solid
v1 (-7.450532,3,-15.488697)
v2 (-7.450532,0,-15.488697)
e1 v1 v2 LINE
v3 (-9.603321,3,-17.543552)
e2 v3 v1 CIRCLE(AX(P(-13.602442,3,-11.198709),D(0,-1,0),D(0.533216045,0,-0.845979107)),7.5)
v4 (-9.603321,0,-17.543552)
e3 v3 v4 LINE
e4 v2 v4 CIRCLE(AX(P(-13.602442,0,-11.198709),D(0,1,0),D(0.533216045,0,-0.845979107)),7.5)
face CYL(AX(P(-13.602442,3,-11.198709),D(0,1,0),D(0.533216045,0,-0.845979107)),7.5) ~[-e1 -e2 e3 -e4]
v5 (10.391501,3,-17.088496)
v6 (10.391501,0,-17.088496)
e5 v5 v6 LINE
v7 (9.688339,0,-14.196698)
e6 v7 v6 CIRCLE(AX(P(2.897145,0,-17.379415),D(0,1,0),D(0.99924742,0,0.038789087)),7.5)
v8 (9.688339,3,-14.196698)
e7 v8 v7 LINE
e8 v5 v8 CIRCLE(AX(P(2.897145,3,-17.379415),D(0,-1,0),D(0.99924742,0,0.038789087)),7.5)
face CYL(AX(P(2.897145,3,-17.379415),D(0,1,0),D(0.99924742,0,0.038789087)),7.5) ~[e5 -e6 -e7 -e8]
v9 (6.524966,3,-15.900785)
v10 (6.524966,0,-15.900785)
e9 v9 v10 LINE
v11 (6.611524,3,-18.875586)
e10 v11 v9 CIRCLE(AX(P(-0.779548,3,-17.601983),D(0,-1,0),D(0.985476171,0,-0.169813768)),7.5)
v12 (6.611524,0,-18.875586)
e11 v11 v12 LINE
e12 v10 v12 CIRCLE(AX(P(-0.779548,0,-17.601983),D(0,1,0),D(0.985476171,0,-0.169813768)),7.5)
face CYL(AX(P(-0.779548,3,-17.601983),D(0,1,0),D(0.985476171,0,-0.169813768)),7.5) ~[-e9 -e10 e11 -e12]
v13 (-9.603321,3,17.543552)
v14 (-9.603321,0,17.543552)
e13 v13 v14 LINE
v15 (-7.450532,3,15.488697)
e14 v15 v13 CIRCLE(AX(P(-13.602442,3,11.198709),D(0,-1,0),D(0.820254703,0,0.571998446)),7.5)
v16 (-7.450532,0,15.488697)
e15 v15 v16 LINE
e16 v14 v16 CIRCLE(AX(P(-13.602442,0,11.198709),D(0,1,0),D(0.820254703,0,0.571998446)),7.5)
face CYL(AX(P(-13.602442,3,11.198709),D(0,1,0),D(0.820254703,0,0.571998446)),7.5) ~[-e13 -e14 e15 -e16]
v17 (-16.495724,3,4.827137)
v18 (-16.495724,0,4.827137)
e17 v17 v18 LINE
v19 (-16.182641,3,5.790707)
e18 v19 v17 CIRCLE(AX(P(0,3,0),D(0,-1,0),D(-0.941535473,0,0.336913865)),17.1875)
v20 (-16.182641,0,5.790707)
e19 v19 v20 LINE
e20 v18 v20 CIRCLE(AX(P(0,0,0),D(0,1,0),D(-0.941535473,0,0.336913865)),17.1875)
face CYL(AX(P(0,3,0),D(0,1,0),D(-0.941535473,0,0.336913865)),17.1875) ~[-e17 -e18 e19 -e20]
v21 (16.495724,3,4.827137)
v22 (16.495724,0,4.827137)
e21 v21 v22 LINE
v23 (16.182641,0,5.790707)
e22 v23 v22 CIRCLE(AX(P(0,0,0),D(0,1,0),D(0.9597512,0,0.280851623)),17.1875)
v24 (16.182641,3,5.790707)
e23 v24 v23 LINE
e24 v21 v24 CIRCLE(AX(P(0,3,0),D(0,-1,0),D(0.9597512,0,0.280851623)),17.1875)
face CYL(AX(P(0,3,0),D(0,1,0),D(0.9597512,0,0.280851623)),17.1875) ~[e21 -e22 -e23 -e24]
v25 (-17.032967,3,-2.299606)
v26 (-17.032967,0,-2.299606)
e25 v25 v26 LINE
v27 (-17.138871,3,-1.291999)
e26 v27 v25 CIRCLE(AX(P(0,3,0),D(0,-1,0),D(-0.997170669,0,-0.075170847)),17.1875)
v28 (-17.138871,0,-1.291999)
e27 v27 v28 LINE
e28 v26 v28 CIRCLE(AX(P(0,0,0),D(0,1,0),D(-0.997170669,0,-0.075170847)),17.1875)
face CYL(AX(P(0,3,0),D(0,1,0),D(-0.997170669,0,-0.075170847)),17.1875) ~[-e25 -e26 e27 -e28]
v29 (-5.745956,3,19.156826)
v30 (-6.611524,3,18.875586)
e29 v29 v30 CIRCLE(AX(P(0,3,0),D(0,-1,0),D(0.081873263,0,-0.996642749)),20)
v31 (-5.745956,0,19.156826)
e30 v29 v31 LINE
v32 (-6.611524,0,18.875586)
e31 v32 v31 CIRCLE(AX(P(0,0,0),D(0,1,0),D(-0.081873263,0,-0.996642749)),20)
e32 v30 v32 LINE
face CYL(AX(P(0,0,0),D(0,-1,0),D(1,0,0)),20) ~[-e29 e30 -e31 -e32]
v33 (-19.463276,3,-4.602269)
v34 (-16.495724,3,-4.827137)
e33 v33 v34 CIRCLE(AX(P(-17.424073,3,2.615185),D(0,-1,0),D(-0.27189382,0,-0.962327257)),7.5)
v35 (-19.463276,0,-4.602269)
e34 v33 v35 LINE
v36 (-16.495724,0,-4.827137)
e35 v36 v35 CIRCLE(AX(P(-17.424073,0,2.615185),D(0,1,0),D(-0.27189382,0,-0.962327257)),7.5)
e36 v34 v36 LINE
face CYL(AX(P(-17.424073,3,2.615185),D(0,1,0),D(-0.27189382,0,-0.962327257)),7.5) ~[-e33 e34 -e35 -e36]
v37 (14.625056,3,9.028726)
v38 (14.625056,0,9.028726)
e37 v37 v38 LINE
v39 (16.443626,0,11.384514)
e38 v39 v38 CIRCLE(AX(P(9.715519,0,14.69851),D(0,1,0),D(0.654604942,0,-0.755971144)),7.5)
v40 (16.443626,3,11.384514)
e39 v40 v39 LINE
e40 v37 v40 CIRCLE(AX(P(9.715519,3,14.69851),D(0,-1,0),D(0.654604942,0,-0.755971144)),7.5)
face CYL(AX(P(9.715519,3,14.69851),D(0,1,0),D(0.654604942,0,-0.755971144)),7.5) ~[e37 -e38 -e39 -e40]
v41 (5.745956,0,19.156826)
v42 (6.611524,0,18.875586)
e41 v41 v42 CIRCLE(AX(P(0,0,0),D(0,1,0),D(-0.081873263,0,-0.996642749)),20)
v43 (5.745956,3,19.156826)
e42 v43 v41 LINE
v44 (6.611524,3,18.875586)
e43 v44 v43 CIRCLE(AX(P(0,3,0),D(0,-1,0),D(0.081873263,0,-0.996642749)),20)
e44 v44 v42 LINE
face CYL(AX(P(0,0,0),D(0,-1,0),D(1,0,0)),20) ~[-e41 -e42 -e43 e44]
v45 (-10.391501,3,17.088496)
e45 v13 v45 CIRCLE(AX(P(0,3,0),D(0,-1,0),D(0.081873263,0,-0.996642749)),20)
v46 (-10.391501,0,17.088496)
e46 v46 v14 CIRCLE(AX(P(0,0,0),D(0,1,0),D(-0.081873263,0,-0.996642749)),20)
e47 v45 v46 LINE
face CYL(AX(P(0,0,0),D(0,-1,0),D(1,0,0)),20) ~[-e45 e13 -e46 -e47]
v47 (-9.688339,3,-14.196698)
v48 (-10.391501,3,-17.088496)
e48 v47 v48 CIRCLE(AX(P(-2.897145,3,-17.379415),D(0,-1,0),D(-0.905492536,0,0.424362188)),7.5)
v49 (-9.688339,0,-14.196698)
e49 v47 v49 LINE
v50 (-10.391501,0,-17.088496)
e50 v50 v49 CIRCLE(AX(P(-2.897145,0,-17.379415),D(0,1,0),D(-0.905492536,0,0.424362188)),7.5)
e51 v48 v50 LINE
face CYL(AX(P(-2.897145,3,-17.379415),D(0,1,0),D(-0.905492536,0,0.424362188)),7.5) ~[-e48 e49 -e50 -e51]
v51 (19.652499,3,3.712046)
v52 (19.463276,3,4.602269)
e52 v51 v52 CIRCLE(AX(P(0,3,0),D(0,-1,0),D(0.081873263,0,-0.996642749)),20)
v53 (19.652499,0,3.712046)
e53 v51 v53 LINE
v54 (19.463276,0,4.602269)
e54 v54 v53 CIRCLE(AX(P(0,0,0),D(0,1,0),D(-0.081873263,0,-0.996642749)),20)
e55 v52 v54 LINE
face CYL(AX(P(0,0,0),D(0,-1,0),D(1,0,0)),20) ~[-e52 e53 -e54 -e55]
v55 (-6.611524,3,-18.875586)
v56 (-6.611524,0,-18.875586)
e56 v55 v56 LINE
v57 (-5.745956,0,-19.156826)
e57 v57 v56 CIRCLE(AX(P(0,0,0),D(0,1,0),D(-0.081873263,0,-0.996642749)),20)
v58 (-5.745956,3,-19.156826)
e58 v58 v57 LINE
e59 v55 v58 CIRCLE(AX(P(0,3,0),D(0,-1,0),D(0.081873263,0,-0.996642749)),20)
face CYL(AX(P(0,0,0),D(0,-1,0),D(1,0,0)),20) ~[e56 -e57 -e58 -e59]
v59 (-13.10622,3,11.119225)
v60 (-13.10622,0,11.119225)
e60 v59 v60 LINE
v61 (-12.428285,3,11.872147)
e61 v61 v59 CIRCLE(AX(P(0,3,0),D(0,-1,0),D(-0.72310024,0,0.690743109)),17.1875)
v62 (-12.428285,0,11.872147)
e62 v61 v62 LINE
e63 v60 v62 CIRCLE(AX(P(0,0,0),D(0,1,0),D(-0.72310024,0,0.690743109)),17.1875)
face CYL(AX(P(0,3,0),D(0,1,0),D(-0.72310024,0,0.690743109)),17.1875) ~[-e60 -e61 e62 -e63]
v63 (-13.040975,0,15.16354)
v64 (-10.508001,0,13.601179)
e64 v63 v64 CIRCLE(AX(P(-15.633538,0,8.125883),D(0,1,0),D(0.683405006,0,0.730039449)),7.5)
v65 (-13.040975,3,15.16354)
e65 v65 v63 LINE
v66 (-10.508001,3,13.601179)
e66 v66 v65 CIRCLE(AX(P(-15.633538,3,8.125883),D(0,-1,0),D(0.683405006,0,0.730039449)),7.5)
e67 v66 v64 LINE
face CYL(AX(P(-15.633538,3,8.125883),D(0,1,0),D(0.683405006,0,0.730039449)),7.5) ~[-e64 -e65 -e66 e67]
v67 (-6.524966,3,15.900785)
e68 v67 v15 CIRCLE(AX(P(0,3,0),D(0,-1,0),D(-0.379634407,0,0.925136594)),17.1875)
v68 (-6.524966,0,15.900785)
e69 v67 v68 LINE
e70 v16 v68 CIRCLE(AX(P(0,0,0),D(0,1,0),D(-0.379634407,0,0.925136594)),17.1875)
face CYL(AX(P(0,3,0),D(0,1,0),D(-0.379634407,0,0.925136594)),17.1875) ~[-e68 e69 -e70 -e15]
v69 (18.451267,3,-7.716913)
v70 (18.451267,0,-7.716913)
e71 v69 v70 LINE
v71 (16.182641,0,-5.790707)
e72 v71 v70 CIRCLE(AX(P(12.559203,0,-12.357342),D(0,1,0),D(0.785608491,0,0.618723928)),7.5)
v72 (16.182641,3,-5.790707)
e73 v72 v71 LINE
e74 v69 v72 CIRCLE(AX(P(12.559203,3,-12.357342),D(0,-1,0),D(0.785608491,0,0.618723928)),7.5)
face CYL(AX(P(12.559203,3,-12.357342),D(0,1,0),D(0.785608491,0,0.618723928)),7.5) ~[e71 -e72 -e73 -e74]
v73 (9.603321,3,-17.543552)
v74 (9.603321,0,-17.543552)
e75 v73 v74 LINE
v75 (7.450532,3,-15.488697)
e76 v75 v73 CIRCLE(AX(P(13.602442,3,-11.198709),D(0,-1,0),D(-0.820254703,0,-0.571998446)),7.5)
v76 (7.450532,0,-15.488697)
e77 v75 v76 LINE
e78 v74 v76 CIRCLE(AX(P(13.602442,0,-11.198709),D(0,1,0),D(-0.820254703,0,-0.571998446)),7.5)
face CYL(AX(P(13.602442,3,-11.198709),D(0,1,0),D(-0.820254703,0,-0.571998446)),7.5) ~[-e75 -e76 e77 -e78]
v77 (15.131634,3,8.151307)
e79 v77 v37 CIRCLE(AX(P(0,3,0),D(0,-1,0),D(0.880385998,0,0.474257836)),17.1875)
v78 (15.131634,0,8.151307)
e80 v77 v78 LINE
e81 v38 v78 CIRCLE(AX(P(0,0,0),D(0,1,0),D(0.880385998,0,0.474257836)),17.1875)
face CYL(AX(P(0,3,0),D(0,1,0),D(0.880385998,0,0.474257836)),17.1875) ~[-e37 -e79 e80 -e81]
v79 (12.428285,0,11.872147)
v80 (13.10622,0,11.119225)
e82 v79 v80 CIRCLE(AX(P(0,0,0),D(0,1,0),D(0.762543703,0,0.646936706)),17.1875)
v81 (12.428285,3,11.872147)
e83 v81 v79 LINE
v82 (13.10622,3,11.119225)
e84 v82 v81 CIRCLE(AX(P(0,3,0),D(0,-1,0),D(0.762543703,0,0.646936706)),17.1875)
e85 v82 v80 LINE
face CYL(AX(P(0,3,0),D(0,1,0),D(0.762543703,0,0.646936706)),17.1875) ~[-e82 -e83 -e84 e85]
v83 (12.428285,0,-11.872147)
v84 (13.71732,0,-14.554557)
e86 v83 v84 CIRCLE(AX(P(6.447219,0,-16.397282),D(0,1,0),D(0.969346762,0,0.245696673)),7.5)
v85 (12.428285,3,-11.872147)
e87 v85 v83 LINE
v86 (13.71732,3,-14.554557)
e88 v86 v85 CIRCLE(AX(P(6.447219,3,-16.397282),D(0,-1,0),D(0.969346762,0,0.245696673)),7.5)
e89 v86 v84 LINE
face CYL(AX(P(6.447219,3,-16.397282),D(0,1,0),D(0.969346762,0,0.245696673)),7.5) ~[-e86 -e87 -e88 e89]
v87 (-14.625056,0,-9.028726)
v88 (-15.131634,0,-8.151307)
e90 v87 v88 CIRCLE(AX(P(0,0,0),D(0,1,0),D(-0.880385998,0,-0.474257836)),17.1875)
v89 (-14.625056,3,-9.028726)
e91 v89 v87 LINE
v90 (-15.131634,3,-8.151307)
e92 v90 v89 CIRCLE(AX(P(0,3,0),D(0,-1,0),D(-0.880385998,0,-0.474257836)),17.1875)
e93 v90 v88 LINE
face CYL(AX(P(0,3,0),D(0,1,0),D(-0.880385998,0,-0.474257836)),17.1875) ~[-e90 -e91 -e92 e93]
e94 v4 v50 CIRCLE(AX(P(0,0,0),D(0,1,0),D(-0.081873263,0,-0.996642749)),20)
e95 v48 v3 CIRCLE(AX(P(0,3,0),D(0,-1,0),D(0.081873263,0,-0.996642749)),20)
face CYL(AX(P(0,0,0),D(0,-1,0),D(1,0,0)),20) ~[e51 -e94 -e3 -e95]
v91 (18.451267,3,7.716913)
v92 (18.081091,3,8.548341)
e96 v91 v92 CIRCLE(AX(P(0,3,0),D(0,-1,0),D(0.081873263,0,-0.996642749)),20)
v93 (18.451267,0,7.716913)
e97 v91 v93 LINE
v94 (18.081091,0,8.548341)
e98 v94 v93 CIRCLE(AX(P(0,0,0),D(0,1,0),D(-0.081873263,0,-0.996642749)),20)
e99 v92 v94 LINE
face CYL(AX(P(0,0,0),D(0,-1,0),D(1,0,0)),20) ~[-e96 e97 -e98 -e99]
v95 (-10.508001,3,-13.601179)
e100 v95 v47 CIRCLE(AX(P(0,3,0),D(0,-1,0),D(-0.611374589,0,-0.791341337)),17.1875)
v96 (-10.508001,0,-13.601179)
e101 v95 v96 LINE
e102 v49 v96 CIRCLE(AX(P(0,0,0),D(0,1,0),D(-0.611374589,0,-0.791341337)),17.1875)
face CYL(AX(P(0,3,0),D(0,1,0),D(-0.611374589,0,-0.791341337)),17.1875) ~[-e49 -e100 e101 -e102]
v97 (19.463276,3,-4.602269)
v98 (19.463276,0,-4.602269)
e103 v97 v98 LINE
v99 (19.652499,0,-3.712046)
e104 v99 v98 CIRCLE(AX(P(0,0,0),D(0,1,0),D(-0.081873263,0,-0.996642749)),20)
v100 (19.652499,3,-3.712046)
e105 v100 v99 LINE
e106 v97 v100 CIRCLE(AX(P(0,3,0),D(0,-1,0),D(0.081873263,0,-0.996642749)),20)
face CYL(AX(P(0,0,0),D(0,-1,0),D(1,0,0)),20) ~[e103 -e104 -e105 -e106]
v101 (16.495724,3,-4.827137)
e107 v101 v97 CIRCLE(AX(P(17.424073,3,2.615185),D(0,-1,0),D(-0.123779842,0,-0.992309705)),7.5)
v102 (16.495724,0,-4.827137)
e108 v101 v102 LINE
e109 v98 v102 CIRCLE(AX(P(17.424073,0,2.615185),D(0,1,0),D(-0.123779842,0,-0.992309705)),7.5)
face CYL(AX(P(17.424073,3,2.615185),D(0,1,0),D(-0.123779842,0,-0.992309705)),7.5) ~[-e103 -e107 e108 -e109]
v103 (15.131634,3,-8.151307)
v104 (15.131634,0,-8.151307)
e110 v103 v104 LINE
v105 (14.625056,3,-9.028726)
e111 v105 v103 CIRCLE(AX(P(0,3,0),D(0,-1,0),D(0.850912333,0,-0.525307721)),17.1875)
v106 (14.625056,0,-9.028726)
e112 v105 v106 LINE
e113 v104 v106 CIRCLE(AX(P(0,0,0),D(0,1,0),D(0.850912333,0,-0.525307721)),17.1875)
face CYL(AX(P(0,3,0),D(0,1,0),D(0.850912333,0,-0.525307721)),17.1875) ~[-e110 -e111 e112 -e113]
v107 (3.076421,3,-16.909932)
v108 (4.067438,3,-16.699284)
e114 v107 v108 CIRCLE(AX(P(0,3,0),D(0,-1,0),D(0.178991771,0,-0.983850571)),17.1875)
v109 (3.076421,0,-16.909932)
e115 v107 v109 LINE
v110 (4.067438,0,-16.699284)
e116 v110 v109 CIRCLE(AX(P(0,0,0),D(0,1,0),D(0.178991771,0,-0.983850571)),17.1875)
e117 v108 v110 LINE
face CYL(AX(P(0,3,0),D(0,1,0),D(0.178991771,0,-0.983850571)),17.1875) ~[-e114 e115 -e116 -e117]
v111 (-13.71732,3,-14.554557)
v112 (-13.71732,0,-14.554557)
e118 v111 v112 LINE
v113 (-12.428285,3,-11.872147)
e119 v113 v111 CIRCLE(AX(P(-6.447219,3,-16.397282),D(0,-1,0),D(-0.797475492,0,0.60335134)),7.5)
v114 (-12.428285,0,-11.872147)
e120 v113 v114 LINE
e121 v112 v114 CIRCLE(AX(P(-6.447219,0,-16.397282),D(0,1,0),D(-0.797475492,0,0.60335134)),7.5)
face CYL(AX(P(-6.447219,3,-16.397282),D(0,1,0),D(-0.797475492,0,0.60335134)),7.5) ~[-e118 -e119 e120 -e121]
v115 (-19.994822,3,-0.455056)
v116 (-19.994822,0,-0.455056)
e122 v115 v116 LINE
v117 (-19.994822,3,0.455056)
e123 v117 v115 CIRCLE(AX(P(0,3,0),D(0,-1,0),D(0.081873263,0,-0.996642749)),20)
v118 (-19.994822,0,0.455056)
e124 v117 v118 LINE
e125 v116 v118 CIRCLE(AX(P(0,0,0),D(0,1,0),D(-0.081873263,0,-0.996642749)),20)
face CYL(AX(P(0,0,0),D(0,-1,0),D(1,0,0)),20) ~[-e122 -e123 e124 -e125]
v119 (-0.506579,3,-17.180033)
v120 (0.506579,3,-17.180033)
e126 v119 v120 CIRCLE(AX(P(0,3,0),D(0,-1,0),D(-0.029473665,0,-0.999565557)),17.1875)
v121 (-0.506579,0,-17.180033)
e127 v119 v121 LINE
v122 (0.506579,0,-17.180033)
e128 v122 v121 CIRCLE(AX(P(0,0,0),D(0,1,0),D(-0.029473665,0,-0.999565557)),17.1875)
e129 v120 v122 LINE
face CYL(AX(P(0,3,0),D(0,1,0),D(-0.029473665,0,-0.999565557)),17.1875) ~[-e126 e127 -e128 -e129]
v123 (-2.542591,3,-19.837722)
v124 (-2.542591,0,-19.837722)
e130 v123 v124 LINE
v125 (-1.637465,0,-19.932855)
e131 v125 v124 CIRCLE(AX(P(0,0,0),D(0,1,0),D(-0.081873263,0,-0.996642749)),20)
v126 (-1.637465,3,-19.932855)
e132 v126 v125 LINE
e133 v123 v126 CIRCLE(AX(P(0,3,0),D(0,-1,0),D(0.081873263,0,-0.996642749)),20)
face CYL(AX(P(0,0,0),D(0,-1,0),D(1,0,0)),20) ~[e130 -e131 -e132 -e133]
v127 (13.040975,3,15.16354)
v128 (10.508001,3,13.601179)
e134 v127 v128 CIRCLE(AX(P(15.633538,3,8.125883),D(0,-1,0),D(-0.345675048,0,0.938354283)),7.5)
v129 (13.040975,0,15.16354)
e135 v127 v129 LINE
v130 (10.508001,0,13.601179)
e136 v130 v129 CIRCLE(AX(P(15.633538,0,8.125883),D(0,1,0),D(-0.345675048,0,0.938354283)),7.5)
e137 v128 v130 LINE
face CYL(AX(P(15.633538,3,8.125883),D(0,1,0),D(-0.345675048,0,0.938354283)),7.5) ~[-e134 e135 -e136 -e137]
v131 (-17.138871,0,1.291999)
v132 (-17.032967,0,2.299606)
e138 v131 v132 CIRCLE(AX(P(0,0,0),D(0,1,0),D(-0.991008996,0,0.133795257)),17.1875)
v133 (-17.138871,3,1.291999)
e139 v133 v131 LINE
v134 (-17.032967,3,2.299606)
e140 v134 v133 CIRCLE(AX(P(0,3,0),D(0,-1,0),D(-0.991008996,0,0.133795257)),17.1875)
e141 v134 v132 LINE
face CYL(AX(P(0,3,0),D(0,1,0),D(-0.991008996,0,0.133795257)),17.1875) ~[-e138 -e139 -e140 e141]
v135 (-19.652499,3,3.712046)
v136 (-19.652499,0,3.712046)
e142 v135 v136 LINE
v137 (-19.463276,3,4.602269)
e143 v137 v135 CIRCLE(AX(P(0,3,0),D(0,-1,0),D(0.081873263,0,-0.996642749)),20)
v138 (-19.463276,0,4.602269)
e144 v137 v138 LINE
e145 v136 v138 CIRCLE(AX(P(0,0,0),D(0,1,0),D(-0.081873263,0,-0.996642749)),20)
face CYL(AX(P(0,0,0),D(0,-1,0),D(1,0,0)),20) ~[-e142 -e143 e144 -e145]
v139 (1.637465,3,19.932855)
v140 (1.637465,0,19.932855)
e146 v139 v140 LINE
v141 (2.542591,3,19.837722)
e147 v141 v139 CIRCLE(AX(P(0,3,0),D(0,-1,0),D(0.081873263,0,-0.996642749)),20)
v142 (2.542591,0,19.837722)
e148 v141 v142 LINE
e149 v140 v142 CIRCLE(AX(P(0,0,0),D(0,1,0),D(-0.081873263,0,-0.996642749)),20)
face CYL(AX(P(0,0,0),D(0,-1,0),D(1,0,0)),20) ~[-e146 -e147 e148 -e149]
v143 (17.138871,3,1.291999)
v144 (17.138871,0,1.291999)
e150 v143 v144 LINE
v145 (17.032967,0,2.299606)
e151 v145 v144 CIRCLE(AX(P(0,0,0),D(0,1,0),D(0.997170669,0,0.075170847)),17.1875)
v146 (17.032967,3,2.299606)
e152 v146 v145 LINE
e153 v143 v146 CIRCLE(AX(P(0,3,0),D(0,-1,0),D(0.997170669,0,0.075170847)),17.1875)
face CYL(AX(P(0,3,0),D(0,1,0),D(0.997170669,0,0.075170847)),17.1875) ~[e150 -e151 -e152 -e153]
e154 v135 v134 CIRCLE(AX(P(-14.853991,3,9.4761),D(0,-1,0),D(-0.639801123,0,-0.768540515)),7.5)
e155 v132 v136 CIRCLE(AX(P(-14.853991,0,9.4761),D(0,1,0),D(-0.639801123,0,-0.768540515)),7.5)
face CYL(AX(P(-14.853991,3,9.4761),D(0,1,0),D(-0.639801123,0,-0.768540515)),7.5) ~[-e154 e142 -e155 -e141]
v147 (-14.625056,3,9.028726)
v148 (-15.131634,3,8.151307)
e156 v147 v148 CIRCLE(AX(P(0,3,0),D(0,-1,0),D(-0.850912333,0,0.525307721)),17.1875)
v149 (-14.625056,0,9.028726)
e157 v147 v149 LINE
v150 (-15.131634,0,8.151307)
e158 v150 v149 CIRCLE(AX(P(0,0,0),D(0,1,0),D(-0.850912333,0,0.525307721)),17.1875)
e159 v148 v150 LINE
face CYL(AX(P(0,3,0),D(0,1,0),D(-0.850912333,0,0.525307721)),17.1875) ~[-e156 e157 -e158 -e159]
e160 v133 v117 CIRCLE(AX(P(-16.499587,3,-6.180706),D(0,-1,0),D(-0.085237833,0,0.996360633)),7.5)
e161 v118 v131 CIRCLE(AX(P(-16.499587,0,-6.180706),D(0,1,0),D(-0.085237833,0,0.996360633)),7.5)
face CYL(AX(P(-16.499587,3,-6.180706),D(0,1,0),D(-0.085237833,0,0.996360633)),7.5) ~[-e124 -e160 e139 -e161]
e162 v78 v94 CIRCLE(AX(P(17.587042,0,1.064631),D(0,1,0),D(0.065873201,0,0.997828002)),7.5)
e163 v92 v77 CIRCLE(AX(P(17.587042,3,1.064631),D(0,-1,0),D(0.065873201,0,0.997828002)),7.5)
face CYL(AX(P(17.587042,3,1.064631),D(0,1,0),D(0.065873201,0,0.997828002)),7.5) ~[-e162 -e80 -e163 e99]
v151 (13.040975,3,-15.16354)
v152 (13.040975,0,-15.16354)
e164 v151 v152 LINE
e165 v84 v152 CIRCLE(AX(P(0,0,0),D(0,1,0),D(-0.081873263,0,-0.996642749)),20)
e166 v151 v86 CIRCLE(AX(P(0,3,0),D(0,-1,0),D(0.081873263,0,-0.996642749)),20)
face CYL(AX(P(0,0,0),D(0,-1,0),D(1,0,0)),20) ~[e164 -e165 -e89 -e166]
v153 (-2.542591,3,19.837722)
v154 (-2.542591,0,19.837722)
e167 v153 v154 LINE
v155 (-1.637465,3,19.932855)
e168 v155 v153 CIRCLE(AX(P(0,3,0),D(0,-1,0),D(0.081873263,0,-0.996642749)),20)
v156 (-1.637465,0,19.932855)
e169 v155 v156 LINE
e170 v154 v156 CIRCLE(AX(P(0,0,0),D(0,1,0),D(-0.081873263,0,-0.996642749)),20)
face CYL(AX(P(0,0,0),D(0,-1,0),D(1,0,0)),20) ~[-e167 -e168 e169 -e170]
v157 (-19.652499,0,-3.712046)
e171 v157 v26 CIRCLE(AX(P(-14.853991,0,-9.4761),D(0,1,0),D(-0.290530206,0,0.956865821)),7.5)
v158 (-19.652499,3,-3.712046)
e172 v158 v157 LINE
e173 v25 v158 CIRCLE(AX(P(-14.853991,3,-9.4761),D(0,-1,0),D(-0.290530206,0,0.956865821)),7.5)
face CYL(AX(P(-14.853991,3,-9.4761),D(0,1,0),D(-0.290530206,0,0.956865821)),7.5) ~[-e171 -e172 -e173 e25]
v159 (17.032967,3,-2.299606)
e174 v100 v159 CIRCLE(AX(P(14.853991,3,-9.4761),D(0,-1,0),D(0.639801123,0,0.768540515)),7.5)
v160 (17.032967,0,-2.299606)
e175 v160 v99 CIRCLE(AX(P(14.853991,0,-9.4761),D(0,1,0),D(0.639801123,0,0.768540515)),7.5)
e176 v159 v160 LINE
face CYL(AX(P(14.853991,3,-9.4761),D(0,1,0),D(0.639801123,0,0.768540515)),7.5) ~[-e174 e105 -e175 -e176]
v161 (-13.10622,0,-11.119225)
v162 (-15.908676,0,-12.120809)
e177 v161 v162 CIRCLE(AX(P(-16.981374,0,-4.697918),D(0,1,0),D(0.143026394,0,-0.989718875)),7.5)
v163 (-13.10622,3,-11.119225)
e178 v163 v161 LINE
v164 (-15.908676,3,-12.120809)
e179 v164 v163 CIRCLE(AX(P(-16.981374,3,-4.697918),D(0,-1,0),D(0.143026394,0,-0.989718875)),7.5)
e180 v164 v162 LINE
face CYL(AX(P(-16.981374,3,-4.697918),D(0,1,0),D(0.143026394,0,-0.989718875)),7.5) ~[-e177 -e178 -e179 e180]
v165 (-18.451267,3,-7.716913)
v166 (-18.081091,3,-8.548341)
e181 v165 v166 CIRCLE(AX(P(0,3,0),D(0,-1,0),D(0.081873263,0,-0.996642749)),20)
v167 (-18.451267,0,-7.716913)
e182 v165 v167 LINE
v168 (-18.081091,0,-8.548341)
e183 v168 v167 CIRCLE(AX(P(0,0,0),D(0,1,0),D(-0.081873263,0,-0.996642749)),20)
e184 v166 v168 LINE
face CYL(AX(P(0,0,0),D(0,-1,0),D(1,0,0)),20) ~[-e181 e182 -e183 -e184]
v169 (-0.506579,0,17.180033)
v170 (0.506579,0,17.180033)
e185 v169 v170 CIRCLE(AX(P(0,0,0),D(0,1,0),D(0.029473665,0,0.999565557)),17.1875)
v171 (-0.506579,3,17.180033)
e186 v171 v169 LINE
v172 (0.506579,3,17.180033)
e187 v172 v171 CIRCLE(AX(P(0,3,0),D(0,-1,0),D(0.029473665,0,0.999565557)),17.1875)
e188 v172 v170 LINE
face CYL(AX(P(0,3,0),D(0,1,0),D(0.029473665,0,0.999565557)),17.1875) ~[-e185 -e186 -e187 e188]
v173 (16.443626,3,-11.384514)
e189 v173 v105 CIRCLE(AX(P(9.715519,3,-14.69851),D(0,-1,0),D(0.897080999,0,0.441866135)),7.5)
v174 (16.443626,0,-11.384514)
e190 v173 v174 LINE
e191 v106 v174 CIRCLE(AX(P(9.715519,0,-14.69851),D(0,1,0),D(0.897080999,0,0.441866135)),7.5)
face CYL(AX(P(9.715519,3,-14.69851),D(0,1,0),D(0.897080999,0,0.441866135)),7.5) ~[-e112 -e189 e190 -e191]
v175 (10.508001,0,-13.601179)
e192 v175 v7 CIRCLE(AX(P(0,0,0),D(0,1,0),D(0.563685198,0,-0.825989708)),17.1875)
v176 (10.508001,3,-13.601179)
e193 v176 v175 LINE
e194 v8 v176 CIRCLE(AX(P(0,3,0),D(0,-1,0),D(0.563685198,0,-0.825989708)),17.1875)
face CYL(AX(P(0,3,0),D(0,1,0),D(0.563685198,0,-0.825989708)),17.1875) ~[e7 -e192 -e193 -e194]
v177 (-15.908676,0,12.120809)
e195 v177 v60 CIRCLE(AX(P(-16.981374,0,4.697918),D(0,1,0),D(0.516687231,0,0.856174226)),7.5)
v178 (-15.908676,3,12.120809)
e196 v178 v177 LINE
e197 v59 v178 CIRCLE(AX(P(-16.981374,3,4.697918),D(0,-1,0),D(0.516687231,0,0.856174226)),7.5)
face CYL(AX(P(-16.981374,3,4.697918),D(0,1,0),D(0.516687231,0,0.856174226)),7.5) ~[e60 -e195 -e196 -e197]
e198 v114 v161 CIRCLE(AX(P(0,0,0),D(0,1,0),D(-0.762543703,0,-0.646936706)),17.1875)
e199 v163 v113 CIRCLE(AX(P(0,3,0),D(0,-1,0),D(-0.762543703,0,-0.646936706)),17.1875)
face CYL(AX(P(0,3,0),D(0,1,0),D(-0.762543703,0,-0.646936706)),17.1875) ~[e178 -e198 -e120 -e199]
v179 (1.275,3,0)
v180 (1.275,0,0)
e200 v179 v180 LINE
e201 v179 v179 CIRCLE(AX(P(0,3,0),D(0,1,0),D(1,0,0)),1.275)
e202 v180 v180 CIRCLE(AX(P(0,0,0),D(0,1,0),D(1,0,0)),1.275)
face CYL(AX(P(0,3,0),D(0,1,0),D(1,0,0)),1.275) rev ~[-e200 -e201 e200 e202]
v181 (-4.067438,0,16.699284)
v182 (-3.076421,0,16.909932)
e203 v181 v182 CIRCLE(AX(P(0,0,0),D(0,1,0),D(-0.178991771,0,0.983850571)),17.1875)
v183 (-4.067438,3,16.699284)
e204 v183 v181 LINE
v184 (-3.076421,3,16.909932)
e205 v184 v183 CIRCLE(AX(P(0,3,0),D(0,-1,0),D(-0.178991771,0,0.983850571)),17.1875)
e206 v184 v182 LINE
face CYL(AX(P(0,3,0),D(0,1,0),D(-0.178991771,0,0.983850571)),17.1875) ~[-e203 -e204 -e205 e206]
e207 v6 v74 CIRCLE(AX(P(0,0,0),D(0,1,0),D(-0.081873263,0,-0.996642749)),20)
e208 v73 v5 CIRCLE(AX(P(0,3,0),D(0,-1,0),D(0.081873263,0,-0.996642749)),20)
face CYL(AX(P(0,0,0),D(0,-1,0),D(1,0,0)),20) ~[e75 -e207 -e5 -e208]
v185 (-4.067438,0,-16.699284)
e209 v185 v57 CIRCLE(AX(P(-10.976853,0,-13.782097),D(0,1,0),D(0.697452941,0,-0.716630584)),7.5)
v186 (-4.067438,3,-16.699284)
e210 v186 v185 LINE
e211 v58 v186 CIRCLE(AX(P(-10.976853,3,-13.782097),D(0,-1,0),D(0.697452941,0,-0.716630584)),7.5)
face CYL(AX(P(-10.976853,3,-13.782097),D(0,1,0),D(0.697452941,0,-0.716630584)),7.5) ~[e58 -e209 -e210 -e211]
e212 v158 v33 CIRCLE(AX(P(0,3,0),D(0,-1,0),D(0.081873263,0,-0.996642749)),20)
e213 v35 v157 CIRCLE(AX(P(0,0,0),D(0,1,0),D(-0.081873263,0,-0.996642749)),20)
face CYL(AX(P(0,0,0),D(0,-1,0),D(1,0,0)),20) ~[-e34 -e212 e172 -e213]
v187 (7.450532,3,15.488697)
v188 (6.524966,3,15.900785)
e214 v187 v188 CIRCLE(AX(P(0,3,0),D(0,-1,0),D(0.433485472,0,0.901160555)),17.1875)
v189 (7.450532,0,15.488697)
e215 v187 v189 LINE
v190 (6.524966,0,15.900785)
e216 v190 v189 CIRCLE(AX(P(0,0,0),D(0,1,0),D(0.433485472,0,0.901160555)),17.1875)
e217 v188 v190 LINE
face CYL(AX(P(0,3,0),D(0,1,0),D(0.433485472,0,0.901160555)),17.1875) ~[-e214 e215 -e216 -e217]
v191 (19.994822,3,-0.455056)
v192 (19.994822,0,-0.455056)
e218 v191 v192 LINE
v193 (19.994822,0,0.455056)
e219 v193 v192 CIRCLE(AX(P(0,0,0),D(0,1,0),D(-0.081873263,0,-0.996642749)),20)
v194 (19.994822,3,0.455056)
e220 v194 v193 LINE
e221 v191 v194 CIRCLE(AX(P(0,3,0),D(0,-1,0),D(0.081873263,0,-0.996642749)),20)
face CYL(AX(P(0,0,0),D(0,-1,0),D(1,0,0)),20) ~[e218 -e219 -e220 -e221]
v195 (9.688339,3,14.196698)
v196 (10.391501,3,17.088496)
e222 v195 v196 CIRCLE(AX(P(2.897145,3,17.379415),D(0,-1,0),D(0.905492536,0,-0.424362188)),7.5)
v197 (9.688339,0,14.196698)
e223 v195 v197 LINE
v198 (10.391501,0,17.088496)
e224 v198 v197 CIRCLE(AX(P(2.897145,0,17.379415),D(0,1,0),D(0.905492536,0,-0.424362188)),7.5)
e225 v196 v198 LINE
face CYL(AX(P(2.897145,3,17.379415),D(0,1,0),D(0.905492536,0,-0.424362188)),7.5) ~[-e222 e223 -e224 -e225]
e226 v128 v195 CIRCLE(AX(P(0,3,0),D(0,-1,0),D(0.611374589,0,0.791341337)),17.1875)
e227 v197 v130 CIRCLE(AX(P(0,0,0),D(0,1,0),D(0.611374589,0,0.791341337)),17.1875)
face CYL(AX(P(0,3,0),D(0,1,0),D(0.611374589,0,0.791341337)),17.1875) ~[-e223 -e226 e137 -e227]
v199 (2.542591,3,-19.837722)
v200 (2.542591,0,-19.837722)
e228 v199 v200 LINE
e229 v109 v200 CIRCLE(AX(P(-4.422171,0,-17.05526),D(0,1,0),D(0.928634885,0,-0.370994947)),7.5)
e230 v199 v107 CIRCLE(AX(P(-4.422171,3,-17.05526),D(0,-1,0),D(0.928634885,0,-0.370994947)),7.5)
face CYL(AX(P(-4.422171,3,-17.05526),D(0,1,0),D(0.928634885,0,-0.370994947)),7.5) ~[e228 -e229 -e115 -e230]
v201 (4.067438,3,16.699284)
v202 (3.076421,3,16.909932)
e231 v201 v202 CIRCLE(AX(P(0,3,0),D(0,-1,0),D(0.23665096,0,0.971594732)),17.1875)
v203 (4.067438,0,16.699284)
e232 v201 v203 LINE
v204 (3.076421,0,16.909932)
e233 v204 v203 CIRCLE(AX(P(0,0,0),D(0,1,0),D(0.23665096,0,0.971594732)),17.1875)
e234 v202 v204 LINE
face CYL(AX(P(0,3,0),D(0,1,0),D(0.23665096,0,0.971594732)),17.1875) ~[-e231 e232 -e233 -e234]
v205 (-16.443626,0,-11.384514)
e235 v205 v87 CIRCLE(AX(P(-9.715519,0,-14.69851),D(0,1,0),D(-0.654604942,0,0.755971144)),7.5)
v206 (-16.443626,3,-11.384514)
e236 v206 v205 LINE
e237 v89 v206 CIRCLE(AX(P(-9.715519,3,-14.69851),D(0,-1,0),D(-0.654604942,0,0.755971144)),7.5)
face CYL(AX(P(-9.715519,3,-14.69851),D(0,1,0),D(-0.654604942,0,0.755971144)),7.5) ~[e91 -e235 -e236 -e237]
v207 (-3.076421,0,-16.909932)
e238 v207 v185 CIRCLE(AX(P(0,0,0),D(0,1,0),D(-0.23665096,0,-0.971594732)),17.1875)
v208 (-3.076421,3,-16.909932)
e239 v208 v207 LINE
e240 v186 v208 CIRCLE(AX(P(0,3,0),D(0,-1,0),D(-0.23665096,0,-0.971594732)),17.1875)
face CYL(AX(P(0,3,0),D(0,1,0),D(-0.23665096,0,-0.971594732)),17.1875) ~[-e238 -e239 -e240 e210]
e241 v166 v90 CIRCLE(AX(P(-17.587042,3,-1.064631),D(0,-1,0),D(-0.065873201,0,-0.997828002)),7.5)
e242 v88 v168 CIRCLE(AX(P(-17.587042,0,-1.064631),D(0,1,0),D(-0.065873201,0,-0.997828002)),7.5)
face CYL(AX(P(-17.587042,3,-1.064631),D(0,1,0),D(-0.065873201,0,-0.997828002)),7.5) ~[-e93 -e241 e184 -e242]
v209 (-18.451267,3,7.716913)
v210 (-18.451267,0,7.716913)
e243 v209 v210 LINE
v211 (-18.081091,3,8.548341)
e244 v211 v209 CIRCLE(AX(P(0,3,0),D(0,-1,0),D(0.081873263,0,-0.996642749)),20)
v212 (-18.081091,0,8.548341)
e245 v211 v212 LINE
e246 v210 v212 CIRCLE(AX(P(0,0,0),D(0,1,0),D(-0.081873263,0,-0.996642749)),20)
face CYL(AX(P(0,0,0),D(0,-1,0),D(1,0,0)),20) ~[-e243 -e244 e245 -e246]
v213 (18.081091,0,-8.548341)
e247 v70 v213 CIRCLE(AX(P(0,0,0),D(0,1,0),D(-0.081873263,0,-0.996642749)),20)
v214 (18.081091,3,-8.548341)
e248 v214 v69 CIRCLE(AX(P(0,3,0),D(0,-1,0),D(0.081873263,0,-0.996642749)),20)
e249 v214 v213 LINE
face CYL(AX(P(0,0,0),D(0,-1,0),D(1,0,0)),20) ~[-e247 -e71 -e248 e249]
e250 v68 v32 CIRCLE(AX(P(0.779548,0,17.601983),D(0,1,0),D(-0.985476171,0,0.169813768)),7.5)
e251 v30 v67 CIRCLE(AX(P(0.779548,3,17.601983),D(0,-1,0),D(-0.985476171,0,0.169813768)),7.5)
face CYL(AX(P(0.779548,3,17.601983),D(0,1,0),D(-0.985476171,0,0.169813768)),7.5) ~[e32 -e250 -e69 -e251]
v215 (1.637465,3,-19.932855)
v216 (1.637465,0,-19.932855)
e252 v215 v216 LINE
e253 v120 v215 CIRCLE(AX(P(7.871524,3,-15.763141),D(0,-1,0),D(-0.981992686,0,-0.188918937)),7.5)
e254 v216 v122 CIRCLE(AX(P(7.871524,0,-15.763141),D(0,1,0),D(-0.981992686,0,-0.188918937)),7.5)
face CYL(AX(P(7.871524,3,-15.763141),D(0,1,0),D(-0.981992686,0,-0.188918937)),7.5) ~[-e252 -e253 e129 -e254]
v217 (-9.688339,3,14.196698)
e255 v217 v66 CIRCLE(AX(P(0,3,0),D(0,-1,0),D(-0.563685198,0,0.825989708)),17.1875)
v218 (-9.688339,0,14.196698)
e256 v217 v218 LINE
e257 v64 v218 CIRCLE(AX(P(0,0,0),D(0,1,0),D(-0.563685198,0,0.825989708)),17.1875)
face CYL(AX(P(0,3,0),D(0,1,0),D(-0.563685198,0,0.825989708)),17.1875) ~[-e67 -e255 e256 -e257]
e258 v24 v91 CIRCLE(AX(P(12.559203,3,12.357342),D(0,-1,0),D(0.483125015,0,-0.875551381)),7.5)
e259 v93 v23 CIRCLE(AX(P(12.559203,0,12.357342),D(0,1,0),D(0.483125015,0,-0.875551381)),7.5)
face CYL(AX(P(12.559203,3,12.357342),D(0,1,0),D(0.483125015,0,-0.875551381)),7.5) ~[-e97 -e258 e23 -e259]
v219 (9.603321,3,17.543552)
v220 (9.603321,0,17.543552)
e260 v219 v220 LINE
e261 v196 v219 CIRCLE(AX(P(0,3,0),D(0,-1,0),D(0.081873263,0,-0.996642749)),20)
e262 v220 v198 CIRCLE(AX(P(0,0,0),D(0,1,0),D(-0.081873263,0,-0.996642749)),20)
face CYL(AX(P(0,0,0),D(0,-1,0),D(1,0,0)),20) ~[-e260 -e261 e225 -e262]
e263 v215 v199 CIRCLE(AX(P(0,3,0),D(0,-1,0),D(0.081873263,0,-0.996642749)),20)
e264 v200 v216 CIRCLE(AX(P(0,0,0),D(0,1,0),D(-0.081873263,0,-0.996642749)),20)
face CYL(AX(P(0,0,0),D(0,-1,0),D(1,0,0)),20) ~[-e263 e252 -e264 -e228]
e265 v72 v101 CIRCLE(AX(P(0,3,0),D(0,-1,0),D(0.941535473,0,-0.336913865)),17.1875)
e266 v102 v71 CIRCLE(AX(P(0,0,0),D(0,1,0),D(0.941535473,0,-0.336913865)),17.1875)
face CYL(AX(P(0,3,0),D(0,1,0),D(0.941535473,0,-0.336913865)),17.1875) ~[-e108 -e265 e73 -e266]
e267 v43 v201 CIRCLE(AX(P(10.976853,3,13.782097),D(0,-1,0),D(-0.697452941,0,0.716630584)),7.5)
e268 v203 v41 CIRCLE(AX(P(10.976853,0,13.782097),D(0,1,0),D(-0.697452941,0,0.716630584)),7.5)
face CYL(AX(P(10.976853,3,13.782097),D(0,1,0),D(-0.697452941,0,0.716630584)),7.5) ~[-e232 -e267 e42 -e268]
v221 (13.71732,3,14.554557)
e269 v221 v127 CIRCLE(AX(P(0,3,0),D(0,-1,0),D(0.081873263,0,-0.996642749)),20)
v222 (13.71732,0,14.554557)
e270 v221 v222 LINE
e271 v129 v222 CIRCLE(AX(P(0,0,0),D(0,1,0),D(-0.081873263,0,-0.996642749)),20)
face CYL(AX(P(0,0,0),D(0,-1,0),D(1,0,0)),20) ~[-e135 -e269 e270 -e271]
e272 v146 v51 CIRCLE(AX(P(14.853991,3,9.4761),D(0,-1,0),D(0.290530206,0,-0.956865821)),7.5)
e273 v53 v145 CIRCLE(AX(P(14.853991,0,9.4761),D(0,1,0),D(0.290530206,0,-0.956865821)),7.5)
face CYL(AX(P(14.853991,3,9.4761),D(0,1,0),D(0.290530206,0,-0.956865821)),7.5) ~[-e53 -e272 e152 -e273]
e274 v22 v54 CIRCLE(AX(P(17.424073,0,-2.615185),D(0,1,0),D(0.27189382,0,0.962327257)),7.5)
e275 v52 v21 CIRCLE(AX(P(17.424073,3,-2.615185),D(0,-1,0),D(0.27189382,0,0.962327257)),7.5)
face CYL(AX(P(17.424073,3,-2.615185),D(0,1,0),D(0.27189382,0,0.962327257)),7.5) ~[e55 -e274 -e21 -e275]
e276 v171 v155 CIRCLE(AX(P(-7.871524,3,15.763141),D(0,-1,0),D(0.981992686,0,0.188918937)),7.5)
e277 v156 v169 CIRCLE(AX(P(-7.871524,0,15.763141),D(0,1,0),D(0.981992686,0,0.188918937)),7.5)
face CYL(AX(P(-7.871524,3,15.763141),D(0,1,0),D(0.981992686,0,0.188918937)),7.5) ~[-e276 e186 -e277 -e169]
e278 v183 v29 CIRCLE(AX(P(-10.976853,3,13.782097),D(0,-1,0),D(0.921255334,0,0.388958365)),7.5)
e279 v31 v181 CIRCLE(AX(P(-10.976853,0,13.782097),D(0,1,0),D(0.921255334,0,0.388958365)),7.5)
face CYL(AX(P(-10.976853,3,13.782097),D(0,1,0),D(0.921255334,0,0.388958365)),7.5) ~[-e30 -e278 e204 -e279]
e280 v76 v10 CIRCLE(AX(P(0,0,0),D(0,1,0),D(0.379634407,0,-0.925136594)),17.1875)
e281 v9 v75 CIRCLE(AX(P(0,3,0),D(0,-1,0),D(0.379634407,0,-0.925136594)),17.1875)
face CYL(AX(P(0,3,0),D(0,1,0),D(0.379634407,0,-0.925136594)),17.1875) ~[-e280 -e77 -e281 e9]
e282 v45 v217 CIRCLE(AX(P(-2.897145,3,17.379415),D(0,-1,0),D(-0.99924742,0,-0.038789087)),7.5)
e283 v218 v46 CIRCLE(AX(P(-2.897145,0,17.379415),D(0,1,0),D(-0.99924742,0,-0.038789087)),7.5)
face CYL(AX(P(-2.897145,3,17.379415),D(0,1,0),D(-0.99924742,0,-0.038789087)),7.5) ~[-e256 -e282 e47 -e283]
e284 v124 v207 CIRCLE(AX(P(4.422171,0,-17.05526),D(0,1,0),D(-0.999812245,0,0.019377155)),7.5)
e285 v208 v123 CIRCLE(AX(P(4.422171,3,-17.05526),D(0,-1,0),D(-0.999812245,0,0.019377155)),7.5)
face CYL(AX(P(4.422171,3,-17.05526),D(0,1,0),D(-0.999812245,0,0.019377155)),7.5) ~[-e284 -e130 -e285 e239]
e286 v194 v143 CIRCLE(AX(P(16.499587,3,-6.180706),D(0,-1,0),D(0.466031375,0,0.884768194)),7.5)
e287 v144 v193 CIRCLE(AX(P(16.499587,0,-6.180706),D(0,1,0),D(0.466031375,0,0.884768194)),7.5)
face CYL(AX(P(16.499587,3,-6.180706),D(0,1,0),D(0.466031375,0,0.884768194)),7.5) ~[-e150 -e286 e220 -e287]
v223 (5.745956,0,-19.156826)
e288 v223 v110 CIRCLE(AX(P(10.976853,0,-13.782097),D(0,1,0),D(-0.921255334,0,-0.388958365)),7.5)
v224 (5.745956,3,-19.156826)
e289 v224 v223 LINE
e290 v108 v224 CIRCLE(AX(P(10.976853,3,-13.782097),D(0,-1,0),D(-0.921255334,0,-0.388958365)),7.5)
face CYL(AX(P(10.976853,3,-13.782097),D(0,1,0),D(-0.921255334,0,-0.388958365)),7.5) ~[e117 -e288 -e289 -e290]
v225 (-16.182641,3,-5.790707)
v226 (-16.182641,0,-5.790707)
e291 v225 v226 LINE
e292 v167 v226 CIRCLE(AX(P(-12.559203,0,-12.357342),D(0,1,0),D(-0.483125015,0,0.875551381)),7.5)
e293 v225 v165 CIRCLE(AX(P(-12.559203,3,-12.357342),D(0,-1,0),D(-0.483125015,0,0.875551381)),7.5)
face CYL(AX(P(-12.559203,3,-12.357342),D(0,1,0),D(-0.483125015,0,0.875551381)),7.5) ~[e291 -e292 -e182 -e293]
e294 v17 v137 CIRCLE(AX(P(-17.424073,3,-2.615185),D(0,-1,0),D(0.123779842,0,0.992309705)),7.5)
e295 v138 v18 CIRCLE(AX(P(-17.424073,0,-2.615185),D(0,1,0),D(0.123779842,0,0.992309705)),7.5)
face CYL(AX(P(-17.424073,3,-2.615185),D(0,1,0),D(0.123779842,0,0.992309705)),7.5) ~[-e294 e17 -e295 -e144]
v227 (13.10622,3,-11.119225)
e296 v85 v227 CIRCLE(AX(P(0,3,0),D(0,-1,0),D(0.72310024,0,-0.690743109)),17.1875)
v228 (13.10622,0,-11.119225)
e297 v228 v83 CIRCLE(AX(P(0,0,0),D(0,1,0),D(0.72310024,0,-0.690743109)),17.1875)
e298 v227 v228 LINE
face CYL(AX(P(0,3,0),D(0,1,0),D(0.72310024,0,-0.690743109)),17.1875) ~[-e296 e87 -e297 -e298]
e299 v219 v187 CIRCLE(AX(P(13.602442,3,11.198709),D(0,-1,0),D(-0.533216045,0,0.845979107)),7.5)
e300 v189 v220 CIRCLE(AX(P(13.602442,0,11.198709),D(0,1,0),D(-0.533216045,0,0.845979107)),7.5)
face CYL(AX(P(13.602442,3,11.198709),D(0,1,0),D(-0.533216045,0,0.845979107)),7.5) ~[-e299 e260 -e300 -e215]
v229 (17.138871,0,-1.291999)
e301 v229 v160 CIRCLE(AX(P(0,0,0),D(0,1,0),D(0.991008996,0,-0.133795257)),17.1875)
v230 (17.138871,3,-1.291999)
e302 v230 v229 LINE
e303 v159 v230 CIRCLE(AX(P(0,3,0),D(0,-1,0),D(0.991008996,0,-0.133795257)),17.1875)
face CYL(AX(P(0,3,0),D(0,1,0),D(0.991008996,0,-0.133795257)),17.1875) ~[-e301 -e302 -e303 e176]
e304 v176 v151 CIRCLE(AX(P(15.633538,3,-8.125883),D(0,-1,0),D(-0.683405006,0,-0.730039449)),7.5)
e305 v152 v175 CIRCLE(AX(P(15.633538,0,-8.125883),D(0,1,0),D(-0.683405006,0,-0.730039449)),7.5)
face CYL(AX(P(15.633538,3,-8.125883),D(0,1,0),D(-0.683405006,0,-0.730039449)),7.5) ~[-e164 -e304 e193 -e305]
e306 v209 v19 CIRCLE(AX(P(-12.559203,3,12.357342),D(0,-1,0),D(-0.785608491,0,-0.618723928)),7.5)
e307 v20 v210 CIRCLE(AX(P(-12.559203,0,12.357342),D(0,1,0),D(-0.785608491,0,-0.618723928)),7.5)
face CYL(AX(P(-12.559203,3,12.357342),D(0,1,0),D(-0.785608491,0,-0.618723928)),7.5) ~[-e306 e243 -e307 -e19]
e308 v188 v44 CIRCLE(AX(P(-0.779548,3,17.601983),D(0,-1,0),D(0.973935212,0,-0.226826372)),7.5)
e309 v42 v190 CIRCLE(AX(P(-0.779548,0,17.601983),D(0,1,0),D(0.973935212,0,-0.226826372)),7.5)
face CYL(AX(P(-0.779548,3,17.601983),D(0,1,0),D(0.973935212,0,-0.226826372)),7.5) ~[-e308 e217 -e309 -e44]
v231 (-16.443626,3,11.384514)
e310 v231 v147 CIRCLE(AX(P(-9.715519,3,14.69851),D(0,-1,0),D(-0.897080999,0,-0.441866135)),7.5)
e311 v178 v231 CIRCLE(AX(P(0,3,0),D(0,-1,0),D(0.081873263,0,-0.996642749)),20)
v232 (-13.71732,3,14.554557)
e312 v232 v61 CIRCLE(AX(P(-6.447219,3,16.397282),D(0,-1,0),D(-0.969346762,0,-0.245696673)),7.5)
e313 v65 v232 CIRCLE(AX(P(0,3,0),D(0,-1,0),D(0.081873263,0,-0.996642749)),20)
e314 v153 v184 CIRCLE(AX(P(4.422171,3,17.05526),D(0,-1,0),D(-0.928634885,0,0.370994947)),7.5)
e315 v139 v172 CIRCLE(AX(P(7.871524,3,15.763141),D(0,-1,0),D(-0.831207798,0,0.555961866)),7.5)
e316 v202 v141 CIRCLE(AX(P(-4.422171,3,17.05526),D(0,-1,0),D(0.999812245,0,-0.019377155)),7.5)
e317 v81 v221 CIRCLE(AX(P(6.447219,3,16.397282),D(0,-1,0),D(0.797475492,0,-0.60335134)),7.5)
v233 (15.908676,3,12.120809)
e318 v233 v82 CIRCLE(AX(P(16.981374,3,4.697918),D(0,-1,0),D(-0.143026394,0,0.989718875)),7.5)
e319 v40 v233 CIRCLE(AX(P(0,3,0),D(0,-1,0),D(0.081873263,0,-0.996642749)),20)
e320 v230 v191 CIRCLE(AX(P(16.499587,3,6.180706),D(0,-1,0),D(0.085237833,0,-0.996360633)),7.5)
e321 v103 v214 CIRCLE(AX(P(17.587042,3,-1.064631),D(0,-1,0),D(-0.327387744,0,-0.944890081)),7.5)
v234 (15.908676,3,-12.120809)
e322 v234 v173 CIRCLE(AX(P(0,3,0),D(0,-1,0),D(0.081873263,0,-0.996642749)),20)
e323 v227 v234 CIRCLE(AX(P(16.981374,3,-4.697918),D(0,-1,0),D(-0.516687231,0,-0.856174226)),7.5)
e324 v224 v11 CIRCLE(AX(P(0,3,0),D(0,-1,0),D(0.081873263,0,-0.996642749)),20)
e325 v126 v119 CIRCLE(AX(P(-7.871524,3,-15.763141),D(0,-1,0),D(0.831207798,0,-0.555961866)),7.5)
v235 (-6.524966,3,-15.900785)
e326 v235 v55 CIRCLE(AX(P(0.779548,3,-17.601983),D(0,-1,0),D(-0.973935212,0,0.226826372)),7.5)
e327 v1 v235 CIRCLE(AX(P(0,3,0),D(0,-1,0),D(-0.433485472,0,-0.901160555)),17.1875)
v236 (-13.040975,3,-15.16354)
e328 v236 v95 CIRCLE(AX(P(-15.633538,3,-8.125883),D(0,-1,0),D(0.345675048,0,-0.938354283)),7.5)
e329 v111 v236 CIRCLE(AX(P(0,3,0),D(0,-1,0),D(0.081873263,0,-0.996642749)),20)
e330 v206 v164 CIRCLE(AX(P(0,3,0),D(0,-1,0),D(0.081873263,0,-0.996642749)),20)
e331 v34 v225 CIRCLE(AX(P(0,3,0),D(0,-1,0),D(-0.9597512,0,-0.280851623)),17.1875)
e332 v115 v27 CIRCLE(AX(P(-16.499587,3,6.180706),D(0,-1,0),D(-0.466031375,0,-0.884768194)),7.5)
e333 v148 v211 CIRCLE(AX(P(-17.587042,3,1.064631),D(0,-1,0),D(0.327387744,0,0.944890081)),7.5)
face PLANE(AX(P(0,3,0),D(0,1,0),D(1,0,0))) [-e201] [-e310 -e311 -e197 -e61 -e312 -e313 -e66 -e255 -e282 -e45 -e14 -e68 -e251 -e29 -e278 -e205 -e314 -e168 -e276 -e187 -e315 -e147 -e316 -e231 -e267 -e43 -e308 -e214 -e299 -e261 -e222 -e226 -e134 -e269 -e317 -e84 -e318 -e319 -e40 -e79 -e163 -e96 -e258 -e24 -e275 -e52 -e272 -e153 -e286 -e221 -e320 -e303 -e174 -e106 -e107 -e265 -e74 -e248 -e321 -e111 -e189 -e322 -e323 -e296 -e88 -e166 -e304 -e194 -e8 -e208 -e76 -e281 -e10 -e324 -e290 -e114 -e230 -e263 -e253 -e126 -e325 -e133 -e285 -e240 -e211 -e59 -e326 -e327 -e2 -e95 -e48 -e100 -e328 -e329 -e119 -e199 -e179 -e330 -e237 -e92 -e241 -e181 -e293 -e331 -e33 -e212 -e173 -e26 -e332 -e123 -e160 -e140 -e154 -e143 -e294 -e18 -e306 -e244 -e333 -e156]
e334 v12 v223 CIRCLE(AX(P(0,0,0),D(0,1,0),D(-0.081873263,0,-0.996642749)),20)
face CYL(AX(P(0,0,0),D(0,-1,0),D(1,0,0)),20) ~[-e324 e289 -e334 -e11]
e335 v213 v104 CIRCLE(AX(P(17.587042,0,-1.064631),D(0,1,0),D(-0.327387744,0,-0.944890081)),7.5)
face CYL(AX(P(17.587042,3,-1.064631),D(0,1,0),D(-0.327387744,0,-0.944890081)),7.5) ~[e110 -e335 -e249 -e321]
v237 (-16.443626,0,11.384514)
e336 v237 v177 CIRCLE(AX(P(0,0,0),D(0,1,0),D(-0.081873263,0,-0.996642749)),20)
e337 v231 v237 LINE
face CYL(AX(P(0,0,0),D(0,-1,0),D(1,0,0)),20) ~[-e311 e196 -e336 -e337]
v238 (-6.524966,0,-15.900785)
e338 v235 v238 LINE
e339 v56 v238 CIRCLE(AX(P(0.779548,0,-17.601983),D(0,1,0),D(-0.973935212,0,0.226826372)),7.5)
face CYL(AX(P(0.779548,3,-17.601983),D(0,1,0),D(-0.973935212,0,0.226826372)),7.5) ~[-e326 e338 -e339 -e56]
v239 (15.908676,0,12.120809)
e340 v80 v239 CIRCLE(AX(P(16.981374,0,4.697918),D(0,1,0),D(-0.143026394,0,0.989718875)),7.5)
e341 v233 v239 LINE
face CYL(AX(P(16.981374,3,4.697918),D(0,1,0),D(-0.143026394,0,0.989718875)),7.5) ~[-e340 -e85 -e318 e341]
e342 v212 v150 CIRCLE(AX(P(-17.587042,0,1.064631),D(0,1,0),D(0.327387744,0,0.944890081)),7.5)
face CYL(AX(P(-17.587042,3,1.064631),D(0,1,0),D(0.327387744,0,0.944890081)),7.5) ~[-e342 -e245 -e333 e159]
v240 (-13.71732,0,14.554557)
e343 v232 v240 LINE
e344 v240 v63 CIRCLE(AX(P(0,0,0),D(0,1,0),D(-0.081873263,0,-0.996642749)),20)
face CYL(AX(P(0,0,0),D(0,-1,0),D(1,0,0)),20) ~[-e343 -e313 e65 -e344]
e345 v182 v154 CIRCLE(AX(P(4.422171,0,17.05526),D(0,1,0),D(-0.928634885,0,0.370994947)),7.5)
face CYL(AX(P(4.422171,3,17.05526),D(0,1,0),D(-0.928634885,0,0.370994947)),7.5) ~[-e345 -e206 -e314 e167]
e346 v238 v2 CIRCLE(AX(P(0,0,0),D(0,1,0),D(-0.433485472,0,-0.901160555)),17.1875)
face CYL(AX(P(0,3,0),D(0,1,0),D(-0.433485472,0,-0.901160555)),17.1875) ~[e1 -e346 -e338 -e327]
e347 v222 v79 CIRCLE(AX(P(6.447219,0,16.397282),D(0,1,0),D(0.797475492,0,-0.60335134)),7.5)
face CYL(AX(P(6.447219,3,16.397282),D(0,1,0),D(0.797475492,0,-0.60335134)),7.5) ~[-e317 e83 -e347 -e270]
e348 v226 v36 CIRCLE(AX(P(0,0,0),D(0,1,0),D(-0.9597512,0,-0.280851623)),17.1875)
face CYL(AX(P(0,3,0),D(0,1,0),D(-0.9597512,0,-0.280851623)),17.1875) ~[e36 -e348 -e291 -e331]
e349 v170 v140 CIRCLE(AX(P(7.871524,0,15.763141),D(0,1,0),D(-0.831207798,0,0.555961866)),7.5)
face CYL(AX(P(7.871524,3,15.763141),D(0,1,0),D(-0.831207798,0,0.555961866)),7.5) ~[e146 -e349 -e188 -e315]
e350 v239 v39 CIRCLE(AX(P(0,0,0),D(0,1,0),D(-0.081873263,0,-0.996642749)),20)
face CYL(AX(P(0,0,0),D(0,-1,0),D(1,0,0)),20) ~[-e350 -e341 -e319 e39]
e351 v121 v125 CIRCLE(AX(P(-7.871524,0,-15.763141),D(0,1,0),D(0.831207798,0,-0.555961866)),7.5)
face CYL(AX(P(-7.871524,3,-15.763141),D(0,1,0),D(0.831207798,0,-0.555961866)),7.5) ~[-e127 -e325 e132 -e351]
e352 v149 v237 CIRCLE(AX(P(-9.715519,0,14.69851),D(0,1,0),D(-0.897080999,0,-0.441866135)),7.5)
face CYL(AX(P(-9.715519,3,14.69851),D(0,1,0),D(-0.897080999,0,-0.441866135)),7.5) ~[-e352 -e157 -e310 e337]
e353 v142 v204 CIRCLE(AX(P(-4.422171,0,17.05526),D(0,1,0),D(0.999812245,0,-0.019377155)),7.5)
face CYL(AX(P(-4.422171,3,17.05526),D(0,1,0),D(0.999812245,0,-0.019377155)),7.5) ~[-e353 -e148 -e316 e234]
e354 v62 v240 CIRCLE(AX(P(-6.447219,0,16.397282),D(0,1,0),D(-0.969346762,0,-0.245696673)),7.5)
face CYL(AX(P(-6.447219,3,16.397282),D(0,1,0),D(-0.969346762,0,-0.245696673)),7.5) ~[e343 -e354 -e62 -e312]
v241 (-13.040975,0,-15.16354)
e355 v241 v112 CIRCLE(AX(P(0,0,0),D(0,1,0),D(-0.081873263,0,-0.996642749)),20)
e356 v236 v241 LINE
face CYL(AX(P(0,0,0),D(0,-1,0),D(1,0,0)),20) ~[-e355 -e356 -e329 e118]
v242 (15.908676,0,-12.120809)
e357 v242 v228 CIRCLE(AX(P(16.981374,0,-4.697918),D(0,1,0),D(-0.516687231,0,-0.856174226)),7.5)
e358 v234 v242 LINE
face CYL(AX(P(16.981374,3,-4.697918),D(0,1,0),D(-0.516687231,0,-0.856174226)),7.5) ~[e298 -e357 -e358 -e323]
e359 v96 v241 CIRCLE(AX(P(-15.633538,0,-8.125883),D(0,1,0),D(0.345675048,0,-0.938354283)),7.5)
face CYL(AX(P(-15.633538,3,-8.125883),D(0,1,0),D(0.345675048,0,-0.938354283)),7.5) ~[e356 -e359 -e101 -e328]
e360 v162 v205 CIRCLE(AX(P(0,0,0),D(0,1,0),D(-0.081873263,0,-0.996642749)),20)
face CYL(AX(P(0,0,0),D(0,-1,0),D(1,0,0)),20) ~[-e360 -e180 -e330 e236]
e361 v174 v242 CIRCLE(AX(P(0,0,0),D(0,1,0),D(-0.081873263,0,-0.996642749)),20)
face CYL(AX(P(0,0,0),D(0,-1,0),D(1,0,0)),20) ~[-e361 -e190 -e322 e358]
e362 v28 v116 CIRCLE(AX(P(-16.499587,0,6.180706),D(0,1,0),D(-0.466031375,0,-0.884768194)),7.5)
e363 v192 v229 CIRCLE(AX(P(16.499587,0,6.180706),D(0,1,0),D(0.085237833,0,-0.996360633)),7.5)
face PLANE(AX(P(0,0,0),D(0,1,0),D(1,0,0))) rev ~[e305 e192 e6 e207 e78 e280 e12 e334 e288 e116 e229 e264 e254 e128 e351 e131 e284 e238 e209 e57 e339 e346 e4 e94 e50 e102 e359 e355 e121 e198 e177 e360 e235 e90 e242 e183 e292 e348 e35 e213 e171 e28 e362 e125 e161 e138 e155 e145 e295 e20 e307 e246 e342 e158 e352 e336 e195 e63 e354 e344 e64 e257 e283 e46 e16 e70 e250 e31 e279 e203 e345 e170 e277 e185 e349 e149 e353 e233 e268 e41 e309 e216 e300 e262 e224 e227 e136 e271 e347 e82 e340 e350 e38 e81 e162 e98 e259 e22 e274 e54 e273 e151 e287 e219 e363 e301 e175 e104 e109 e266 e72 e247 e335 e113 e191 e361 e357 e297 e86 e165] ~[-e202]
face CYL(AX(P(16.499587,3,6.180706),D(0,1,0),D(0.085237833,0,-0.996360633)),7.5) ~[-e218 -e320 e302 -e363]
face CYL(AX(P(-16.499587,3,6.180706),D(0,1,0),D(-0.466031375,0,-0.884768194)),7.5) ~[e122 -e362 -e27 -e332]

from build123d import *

# Parameters (mm, degrees)
SKETCH1_R           = 20
BOSS_EXTRUDE1_DEPTH = 3
CUT_EXTRUDE1_DEPTH  = 4
CIRPATTERN1_COUNT   = 30
SKETCH7_R           = 1.275
CUT_EXTRUDE6_DEPTH  = 4


with BuildPart() as part:
    # Sketch1 → Boss-Extrude1 (new body)
    with BuildSketch(Plane(origin=(0, 0, 0), x_dir=(1, 0, 0), z_dir=(0, 1, 0))):
        Circle(SKETCH1_R)
    extrude(amount=BOSS_EXTRUDE1_DEPTH)

    # Sketch2 → Cut-Extrude1 (cut, through all)
    with BuildSketch(Plane(origin=(0, 3, 0), x_dir=(1, 0, 0), z_dir=(0, 1, 0))):
        with BuildLine():
            ThreePointArc((-0.506578607, 17.180033014), (0, 17.1875), (0.506578607, 17.180033014))
            ThreePointArc((0.506578607, 17.180033014), (0.934108373, 18.613100259), (1.637465265, 19.932854976))
            ThreePointArc((1.637465265, 19.932854976), (0, 20), (-1.637465265, 19.932854976))
            ThreePointArc((-1.637465265, 19.932854976), (-0.934108373, 18.613100259), (-0.506578607, 17.180033014))
        make_face()
    cut_extrude1 = extrude(amount=-CUT_EXTRUDE1_DEPTH, mode=Mode.SUBTRACT)

    # CirPattern1: Cut-Extrude1 ×30 about axis
    cirpattern1_axis = Axis((0, 0, 0), (0, 1, 0))
    for i in range(1, CIRPATTERN1_COUNT):
        add(cut_extrude1.rotate(cirpattern1_axis, i * 360 / CIRPATTERN1_COUNT), mode=Mode.SUBTRACT)

    # Sketch7 → Cut-Extrude6 (cut, through all)
    with BuildSketch(Plane(origin=(0, 3, 0), x_dir=(1, 0, 0), z_dir=(0, 1, 0))):
        Circle(SKETCH7_R)
    extrude(amount=-CUT_EXTRUDE6_DEPTH, mode=Mode.SUBTRACT)


solid = part.part
